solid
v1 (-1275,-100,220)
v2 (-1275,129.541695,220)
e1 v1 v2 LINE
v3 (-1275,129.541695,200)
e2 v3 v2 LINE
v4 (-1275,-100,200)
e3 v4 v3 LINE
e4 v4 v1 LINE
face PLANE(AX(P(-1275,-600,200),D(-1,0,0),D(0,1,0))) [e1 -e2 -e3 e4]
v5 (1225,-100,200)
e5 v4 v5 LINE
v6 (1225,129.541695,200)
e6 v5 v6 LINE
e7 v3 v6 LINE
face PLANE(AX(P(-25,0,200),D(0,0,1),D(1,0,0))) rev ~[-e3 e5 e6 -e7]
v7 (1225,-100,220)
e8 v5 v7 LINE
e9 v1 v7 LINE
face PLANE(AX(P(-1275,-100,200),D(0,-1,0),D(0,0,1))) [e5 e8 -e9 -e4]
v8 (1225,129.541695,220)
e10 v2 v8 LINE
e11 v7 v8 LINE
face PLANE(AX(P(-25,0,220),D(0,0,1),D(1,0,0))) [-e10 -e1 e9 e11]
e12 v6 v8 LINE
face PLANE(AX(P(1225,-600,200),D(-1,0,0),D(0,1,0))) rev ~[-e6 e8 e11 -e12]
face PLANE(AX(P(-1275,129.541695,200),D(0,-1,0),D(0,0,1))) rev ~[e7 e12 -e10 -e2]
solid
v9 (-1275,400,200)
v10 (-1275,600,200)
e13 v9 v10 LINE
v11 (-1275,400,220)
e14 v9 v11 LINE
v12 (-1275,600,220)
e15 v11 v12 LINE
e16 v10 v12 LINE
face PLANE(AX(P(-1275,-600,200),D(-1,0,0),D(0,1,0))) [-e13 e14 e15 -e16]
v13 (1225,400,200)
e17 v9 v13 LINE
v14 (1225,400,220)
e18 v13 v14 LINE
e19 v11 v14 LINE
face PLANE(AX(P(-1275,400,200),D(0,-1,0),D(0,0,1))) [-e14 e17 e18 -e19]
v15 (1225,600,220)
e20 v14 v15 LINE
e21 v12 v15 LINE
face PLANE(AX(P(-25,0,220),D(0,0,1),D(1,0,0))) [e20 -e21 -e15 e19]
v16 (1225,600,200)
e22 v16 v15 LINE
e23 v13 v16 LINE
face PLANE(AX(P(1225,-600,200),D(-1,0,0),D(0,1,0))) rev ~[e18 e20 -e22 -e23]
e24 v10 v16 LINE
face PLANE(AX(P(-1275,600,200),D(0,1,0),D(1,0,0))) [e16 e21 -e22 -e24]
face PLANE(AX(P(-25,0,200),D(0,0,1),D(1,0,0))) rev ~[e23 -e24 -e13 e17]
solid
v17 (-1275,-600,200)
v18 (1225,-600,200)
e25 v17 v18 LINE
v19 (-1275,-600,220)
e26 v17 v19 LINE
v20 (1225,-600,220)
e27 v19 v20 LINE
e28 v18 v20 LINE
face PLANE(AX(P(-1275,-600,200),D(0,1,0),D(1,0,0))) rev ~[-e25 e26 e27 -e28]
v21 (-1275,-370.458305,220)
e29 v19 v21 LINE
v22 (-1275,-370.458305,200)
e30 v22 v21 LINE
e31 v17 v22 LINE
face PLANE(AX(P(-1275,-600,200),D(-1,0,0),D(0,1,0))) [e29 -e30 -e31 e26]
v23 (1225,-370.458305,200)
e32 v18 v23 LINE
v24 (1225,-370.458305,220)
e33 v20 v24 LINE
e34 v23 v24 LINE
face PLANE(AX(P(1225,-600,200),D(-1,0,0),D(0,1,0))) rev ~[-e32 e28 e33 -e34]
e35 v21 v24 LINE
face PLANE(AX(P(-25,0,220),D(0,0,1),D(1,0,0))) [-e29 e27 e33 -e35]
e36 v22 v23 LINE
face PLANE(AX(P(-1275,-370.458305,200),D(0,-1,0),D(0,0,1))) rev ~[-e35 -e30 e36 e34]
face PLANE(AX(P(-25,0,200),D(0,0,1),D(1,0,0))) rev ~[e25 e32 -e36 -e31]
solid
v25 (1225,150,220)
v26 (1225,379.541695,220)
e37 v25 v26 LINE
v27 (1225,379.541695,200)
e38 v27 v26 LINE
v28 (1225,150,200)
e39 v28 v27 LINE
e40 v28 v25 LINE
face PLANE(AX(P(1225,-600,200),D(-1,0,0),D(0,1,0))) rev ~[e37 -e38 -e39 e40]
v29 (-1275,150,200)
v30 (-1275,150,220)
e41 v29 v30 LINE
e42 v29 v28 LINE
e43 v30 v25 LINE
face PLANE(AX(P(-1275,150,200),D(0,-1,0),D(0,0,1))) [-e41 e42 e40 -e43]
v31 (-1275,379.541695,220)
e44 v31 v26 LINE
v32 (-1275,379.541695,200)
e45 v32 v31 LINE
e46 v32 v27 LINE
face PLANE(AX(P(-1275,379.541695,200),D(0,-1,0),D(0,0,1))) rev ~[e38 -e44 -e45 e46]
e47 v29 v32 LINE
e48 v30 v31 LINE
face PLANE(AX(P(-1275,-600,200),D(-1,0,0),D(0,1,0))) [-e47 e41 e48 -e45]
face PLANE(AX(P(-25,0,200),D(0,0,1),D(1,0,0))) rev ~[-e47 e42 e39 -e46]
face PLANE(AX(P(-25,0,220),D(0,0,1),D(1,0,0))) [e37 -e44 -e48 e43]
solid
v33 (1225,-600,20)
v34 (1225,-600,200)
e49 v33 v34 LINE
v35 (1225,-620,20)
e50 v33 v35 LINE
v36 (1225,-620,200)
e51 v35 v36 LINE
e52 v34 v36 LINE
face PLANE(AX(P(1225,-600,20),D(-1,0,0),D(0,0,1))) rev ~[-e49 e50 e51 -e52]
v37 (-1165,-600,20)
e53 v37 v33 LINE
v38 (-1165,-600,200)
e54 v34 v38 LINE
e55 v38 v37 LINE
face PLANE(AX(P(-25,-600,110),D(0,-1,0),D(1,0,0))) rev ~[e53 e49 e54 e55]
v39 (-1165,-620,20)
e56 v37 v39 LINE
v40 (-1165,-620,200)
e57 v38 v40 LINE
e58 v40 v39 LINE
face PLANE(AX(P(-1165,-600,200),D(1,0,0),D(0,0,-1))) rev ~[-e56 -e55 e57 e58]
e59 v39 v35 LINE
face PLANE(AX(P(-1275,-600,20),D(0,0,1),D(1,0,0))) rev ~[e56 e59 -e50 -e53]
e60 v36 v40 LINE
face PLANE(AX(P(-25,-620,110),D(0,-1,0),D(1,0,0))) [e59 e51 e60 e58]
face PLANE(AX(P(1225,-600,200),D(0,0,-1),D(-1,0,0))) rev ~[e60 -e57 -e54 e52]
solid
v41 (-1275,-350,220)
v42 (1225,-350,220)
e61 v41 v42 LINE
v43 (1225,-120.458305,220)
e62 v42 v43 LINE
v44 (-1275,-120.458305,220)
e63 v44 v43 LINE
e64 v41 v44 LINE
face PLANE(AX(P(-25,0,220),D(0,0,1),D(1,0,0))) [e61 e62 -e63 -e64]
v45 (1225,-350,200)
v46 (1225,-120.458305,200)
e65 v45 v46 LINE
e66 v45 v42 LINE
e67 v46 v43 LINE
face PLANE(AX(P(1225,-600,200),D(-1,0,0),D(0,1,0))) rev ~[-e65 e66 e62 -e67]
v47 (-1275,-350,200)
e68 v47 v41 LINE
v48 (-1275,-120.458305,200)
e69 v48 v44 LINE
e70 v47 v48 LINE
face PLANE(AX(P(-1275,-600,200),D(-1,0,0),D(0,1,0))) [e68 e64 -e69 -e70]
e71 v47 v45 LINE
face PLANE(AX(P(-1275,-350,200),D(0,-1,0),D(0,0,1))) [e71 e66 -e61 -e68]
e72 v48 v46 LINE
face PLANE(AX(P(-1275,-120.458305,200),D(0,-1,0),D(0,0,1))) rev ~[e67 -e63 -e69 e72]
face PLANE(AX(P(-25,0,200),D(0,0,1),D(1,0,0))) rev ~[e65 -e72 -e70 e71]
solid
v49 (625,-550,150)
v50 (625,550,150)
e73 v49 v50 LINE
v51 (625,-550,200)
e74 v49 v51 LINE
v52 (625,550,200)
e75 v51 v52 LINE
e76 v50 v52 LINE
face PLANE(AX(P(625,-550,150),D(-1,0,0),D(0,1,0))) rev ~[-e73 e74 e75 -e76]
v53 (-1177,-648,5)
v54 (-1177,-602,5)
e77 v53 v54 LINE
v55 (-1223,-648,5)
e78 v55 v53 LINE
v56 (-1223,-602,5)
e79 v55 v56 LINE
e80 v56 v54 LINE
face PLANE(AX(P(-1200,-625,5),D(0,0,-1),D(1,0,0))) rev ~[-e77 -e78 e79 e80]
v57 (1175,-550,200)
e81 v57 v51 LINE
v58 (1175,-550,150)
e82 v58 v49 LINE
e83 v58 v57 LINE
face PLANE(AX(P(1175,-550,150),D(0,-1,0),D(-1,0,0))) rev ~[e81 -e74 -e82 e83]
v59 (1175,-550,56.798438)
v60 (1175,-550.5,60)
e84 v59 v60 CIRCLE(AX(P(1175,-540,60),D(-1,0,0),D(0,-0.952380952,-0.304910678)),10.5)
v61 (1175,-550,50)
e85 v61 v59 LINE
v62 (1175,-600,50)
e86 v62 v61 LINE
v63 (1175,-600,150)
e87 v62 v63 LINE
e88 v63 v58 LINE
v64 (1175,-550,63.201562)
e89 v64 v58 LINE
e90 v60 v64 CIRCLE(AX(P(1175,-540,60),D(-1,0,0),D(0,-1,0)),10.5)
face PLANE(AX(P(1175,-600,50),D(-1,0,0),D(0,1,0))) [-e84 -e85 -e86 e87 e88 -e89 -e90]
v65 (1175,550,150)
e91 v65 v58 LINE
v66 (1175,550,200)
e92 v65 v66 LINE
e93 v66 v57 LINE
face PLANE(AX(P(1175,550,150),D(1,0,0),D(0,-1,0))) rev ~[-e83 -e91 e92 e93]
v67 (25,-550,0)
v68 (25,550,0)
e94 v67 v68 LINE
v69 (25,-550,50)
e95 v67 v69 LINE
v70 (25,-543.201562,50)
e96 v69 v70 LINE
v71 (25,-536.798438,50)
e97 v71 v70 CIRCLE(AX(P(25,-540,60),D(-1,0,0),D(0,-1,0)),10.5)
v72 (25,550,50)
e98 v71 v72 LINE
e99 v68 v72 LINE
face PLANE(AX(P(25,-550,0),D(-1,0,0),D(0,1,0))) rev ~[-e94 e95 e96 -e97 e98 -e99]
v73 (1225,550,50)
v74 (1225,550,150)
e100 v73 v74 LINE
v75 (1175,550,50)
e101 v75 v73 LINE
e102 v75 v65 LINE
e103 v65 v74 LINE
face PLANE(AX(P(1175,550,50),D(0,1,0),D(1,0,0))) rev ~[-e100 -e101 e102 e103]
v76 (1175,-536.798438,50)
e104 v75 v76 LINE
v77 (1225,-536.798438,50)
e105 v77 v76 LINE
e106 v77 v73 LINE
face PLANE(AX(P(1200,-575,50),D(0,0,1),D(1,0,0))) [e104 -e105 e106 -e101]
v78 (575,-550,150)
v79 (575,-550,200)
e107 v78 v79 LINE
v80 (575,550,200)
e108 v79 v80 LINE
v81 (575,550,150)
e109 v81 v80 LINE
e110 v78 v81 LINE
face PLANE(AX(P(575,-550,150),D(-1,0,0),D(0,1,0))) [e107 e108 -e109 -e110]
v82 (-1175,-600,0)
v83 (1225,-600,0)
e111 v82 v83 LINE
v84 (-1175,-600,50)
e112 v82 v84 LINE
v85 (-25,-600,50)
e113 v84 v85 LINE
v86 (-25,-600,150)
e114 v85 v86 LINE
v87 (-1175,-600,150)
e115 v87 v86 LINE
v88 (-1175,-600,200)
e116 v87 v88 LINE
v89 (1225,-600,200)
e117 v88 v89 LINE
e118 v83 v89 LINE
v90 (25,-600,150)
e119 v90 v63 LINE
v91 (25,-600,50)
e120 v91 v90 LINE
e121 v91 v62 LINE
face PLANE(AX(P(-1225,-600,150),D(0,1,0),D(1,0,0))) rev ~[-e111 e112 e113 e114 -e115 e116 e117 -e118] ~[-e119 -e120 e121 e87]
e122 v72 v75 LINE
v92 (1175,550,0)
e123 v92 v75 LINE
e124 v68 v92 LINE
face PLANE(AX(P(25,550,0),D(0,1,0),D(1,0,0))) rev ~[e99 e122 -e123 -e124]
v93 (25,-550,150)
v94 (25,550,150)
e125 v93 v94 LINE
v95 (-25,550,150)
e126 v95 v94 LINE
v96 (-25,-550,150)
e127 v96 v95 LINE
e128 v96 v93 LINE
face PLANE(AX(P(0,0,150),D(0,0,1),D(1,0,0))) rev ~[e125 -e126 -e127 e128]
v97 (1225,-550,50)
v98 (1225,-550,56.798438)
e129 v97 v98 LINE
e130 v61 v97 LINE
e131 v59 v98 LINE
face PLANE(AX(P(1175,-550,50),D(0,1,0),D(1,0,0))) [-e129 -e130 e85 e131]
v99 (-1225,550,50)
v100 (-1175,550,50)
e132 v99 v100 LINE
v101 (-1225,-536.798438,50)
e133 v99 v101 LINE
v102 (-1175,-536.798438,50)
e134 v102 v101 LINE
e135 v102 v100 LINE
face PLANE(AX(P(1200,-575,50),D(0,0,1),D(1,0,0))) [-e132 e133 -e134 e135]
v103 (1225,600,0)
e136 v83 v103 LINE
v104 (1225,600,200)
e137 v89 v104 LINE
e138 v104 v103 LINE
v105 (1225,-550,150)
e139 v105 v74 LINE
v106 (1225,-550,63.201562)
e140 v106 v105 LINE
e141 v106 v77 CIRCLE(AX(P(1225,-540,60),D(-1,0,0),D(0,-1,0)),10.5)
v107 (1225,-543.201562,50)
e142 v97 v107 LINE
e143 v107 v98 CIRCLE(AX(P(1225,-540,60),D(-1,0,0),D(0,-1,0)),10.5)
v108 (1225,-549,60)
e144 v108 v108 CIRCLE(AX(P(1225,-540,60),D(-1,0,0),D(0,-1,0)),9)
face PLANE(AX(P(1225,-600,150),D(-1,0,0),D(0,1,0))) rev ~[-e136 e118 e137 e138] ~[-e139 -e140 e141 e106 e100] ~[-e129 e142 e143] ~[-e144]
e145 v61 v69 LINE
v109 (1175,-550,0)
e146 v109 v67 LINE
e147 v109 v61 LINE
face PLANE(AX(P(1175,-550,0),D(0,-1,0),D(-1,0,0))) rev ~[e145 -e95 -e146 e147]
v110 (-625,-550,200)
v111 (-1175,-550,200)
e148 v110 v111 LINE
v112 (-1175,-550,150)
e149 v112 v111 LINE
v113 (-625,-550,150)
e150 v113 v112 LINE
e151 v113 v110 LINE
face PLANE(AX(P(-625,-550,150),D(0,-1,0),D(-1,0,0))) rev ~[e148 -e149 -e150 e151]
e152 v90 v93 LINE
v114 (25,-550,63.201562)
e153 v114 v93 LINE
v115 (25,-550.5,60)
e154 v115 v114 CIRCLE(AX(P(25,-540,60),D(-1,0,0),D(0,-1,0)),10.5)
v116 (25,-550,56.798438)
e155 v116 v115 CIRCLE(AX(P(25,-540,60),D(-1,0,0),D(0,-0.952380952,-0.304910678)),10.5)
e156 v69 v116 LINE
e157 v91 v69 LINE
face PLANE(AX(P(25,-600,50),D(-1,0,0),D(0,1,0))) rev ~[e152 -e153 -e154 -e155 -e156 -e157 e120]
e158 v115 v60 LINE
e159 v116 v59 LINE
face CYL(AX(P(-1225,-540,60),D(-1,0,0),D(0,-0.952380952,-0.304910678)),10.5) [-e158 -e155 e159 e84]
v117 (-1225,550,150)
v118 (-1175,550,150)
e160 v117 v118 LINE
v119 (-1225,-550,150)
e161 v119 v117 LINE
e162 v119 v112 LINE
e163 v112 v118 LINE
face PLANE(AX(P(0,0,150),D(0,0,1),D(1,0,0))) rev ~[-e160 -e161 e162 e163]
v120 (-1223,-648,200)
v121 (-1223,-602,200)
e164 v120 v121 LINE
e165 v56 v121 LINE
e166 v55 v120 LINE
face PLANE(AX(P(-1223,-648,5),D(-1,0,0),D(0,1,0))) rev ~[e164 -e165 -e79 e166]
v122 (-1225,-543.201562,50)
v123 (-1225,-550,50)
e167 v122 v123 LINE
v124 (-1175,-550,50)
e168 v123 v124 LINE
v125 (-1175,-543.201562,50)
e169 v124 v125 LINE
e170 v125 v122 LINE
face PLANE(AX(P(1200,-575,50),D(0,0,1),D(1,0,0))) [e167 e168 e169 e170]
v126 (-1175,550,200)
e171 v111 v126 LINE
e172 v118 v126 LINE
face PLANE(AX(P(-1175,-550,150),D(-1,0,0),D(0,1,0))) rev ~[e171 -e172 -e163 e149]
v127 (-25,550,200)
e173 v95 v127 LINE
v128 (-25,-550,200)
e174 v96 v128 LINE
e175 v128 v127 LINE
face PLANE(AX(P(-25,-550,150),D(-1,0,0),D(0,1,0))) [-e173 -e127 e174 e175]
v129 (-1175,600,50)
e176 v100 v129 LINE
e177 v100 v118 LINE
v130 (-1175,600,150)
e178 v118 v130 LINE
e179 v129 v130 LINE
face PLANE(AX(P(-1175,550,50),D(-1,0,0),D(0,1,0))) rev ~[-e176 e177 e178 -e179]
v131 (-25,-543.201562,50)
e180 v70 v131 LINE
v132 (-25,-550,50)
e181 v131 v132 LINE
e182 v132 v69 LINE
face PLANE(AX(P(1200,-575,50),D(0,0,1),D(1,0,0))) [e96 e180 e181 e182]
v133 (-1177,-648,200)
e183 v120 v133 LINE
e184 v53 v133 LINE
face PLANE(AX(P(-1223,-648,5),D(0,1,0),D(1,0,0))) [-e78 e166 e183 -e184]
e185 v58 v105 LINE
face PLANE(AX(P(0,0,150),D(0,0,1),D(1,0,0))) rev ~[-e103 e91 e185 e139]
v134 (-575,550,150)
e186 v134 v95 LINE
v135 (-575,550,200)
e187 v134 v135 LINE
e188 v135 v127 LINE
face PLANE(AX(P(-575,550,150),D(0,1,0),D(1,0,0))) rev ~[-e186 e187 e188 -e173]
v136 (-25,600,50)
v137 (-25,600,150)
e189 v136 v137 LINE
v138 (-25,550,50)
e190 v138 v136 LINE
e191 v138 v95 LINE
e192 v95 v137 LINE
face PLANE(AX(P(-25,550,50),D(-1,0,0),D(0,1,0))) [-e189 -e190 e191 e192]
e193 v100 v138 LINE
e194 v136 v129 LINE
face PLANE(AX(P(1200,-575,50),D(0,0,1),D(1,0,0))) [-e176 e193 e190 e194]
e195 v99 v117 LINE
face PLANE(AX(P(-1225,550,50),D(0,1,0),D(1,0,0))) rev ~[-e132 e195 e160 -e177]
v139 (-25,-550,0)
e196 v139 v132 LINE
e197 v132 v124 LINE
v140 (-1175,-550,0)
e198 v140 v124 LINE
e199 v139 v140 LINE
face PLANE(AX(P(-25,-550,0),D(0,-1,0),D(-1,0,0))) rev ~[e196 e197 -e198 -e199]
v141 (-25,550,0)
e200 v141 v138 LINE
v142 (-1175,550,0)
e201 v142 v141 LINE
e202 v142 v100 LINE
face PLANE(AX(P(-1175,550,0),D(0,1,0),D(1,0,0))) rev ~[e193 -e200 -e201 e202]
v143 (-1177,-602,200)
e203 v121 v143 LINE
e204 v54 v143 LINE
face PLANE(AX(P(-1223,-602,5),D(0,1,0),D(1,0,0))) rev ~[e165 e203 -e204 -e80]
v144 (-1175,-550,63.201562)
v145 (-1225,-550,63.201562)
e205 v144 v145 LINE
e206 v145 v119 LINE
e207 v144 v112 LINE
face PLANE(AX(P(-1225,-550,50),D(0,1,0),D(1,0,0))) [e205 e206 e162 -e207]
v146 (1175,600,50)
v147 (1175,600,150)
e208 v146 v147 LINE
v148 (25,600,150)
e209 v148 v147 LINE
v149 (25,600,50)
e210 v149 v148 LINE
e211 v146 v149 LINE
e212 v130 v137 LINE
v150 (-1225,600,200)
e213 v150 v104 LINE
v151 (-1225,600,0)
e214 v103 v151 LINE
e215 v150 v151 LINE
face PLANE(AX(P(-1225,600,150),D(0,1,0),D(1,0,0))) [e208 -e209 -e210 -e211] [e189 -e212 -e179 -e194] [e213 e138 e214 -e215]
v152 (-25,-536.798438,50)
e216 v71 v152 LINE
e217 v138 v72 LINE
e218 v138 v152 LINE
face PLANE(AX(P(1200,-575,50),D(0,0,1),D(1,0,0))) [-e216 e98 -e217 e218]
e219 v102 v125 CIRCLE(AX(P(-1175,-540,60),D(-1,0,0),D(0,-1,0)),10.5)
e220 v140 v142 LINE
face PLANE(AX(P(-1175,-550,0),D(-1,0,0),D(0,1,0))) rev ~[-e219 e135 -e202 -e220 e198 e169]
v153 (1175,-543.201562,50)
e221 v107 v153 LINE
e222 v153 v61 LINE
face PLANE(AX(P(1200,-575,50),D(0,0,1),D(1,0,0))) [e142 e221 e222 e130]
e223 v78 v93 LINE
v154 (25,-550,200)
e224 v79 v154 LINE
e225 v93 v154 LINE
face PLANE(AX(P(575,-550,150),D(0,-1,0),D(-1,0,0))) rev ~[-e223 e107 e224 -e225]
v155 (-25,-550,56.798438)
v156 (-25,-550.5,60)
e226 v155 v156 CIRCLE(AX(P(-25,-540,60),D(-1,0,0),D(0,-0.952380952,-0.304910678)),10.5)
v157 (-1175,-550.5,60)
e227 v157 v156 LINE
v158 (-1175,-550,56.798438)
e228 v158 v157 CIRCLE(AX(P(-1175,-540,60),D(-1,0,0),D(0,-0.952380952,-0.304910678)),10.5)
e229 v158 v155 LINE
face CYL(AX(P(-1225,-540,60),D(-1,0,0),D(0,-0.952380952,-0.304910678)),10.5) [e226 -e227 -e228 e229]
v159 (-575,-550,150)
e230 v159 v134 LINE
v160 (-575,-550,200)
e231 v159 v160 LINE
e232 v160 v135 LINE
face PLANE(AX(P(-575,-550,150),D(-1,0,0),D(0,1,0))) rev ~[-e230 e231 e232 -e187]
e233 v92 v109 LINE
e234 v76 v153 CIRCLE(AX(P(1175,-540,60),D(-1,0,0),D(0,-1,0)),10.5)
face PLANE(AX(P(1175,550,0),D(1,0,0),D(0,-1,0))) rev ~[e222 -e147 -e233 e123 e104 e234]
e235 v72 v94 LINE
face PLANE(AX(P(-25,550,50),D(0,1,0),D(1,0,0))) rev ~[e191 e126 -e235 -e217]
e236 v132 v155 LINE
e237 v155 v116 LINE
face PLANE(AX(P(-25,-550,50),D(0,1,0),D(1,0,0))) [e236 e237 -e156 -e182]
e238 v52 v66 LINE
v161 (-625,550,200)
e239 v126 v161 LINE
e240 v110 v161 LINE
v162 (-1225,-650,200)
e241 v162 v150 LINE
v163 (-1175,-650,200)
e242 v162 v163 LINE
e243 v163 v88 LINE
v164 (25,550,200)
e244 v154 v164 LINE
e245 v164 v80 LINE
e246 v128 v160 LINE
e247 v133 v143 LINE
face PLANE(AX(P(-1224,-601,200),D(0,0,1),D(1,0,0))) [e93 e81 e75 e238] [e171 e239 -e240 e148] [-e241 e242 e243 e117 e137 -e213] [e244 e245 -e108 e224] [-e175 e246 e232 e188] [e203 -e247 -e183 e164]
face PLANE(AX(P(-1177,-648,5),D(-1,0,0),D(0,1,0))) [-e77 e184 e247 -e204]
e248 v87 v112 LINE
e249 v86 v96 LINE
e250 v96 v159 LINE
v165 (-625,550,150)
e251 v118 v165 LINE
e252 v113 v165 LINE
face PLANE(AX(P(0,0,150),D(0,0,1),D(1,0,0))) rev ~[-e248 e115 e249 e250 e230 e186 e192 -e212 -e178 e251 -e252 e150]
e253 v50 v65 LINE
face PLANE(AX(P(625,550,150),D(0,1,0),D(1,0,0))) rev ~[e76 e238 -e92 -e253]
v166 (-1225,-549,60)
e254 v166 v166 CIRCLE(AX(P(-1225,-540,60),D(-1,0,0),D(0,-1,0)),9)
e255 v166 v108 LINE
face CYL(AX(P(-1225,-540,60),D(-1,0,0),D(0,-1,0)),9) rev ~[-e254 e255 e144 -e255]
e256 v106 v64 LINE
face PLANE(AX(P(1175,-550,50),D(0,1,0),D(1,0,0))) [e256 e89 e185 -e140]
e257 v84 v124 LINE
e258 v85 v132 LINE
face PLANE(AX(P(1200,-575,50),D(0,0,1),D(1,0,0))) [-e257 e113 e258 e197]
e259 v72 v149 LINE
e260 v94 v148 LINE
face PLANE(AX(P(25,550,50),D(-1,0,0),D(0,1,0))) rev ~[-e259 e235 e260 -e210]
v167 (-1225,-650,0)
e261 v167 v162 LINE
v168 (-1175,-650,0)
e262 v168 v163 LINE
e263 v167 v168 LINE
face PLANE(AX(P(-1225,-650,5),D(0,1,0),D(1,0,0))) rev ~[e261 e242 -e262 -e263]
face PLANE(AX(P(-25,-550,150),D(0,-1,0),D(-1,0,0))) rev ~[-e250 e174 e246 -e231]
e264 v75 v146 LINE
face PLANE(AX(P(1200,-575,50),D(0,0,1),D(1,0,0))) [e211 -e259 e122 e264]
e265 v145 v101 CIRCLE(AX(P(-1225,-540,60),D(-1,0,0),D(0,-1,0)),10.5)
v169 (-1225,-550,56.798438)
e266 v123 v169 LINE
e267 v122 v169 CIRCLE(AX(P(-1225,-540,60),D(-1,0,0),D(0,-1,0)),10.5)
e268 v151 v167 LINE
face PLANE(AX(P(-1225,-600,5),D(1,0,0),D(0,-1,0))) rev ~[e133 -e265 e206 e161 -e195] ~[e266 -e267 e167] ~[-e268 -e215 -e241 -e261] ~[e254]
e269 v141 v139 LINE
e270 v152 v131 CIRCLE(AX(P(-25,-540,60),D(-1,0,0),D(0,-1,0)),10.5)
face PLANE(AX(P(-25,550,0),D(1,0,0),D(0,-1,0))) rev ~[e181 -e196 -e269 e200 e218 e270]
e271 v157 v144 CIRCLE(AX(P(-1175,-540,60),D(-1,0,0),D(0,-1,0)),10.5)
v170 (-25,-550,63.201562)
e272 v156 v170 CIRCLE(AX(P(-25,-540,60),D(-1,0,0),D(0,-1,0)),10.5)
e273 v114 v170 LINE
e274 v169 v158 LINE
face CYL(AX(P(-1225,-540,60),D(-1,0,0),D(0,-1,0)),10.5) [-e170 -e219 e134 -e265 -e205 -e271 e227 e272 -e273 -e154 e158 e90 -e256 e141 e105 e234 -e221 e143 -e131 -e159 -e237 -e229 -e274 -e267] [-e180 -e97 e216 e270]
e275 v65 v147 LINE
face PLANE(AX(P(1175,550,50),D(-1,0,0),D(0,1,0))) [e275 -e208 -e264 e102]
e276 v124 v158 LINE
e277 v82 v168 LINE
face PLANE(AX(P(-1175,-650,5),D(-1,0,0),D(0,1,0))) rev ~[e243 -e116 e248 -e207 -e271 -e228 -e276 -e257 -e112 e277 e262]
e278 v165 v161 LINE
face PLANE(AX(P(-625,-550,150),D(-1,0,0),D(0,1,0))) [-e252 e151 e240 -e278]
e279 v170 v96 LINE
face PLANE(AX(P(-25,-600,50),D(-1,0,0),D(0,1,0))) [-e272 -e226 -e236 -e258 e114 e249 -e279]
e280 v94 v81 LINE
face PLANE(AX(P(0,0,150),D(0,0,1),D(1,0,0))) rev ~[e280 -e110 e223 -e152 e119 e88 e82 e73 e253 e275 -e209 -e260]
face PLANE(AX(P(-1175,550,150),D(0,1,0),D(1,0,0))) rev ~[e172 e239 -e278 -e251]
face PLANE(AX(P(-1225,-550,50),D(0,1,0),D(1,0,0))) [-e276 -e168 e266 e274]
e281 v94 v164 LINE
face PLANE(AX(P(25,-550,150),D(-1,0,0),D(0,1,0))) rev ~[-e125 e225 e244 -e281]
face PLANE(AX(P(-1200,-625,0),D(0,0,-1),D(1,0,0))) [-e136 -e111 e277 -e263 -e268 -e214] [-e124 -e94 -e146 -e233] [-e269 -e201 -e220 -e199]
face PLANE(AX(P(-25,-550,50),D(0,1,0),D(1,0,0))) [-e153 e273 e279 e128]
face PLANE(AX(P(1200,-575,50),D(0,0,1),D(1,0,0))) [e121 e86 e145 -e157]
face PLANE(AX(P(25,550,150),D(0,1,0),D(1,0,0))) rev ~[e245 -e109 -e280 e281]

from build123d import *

# Parameters (mm, degrees)
F0_W      = 50
F0_H      = 50
F0_H_2    = 1100
F1_DEPTH  = 50
F2_W      = 50
F2_H      = 50
F3_DEPTH  = 100
F4_W      = 2450
F4_H      = 1200
F4_W_2    = 25
F4_H_2    = 1100
F4_W_3    = 50
F5_DEPTH  = 50
F6_R      = 9
F7_DEPTH  = 2450
F9_DEPTH  = 20
F10_W     = 2500
F10_H     = 1200
F11_DEPTH = 20
F12_DEPTH = 110
F13_W     = 50
F13_H     = 50
F14_DEPTH = 5
F15_W     = 2
F15_H     = 2
F15_W_2   = 46
F15_H_2   = 46
F16_DEPTH = 195
F17_W     = 20.458304882
F17_H     = 20
F18_DEPTH = 2500


with BuildPart() as f1:
    # F0 (on Top) → F1 (new body)
    with BuildSketch(Plane.XY):
        with Locations((1200, -575)):
            Rectangle(F0_W, F0_H)
        Polygon((-1175, -600), (1175, -600), (1175, -550), (25, -550), (0, -550), (-25, -550), (-1175, -550), align=None)
        with Locations((1200, 0)):
            Rectangle(F0_W, F0_H_2)
        with Locations((-1200, -575)):
            Rectangle(F0_W, F0_H)
        with Locations((1200, 575)):
            Rectangle(F0_W, F0_H)
        with Locations((-1200, 0)):
            Rectangle(F0_W, F0_H_2)
        Polygon((25, 550), (1175, 550), (1175, 600), (-1175, 600), (-1175, 550), (-25, 550), (0, 550), align=None)
        with Locations((-1200, 575)):
            Rectangle(F0_W, F0_H)
        Polygon((0, -550), (25, -550), (25, 0), (25, 550), (0, 550), (0, 0), align=None)
        Polygon((-25, 0), (-25, -550), (0, -550), (0, 0), (0, 550), (-25, 550), align=None)
    extrude(amount=F1_DEPTH)

    # F2 (on face) → F3 (join)
    with BuildSketch(Plane.XY.offset(50)):
        with Locations((0, 575)):
            Rectangle(F2_W, F2_H)
        with Locations((-1200, 575)):
            Rectangle(F2_W, F2_H)
        with Locations((-1200, -575)):
            Rectangle(F2_W, F2_H)
        with Locations((0, -575)):
            Rectangle(F2_W, F2_H)
        with Locations((1200, -575)):
            Rectangle(F2_W, F2_H)
        with Locations((1200, 575)):
            Rectangle(F2_W, F2_H)
    extrude(amount=F3_DEPTH)

    # F4 (on face) → F5 (join)
    with BuildSketch(Plane.XY.offset(150)):
        Rectangle(F4_W, F4_H)
        Polygon((1175, 550), (1175, -550), (625, -550), (600, -550), (575, -550), (25, -550), (-25, -550), (-575, -550), (-600, -550), (-625, -550), (-1175, -550), (-1175, 550), (-625, 550), (-600, 550), (-575, 550), (-25, 550), (25, 550), (575, 550), (600, 550), (625, 550), align=None, mode=Mode.SUBTRACT)
        with Locations((-587.5, 0)):
            Rectangle(F4_W_2, F4_H_2)
        with Locations((-612.5, 0)):
            Rectangle(F4_W_2, F4_H_2)
        with Locations((612.5, 0)):
            Rectangle(F4_W_2, F4_H_2)
        with Locations((587.5, 0)):
            Rectangle(F4_W_2, F4_H_2)
        Rectangle(F4_W_3, F4_H_2)
    extrude(amount=F5_DEPTH)

    # F6 (on face) → F7 (join)
    with BuildSketch(Plane(origin=(-1225, 0, 0), x_dir=(0, -1, 0), z_dir=(-1, 0, 0))):
        with BuildLine():
            ThreePointArc((550.5, 60), (529.6257530394, 61.6201851746), (550, 56.7984378813))
            ThreePointArc((550, 56.7984378813), (550.3742469606, 58.3798148254), (550.5, 60))
        make_face()
        with Locations((540, 60)):
            Circle(F6_R, mode=Mode.SUBTRACT)
    extrude(amount=-F7_DEPTH)

    # F13 (on face) → F14 (join)
    with BuildSketch(Plane(origin=(0, 0, 0), x_dir=(1, 0, 0), z_dir=(0, 0, -1))):
        with Locations((-1200, 625)):
            Rectangle(F13_W, F13_H)
    extrude(amount=-F14_DEPTH)

    # F15 (on face) → F16 (join, through all)
    with BuildSketch(Plane.XY.offset(5)):
        with Locations((-1224, -601)):
            Rectangle(F15_W, F15_H)
        Polygon((-1175, -600), (-1223, -600), (-1223, -602), (-1225, -602), (-1225, -650), (-1175, -650), align=None)
        with Locations((-1200, -625)):
            Rectangle(F15_W_2, F15_H_2, mode=Mode.SUBTRACT)
    extrude(amount=F16_DEPTH)


with BuildPart() as f9:
    # F8 (on face) → F9 (new body)
    with BuildSketch(Plane.XZ.offset(600)):
        Polygon((1225, 20), (1225, 200), (-1225, 200), (-1275, 200), (-1275, 20), align=None)
    extrude(amount=F9_DEPTH)

    # F12 (cut): a face of the model
    f12_faces = [f9.faces().sort_by_distance(p)[0] for p in [
        (-1275, -610, 110),
    ]]
    extrude(f12_faces, amount=-F12_DEPTH, mode=Mode.SUBTRACT)


with BuildPart() as f11:
    # F10 (on face) → F11 (new body)
    with BuildSketch(Plane.XY.offset(200)):
        with Locations((-25, 0)):
            Rectangle(F10_W, F10_H)
    extrude(amount=F11_DEPTH)

    # F17 (on face) → F18 (cut, through all)
    with BuildSketch(Plane(origin=(-1275, 0, 0), x_dir=(0, -1, 0), z_dir=(-1, 0, 0))):
        with Locations((610.229152441, 210)):
            Rectangle(F17_W, F17_H)
        with Locations((360.229152441, 210)):
            Rectangle(F17_W, F17_H)
        with Locations((110.229152441, 210)):
            Rectangle(F17_W, F17_H)
        with Locations((-139.770847559, 210)):
            Rectangle(F17_W, F17_H)
        with Locations((-389.770847559, 210)):
            Rectangle(F17_W, F17_H)
    extrude(amount=-F18_DEPTH, mode=Mode.SUBTRACT)


solid = Compound([f1.part, f9.part, f11.part])
